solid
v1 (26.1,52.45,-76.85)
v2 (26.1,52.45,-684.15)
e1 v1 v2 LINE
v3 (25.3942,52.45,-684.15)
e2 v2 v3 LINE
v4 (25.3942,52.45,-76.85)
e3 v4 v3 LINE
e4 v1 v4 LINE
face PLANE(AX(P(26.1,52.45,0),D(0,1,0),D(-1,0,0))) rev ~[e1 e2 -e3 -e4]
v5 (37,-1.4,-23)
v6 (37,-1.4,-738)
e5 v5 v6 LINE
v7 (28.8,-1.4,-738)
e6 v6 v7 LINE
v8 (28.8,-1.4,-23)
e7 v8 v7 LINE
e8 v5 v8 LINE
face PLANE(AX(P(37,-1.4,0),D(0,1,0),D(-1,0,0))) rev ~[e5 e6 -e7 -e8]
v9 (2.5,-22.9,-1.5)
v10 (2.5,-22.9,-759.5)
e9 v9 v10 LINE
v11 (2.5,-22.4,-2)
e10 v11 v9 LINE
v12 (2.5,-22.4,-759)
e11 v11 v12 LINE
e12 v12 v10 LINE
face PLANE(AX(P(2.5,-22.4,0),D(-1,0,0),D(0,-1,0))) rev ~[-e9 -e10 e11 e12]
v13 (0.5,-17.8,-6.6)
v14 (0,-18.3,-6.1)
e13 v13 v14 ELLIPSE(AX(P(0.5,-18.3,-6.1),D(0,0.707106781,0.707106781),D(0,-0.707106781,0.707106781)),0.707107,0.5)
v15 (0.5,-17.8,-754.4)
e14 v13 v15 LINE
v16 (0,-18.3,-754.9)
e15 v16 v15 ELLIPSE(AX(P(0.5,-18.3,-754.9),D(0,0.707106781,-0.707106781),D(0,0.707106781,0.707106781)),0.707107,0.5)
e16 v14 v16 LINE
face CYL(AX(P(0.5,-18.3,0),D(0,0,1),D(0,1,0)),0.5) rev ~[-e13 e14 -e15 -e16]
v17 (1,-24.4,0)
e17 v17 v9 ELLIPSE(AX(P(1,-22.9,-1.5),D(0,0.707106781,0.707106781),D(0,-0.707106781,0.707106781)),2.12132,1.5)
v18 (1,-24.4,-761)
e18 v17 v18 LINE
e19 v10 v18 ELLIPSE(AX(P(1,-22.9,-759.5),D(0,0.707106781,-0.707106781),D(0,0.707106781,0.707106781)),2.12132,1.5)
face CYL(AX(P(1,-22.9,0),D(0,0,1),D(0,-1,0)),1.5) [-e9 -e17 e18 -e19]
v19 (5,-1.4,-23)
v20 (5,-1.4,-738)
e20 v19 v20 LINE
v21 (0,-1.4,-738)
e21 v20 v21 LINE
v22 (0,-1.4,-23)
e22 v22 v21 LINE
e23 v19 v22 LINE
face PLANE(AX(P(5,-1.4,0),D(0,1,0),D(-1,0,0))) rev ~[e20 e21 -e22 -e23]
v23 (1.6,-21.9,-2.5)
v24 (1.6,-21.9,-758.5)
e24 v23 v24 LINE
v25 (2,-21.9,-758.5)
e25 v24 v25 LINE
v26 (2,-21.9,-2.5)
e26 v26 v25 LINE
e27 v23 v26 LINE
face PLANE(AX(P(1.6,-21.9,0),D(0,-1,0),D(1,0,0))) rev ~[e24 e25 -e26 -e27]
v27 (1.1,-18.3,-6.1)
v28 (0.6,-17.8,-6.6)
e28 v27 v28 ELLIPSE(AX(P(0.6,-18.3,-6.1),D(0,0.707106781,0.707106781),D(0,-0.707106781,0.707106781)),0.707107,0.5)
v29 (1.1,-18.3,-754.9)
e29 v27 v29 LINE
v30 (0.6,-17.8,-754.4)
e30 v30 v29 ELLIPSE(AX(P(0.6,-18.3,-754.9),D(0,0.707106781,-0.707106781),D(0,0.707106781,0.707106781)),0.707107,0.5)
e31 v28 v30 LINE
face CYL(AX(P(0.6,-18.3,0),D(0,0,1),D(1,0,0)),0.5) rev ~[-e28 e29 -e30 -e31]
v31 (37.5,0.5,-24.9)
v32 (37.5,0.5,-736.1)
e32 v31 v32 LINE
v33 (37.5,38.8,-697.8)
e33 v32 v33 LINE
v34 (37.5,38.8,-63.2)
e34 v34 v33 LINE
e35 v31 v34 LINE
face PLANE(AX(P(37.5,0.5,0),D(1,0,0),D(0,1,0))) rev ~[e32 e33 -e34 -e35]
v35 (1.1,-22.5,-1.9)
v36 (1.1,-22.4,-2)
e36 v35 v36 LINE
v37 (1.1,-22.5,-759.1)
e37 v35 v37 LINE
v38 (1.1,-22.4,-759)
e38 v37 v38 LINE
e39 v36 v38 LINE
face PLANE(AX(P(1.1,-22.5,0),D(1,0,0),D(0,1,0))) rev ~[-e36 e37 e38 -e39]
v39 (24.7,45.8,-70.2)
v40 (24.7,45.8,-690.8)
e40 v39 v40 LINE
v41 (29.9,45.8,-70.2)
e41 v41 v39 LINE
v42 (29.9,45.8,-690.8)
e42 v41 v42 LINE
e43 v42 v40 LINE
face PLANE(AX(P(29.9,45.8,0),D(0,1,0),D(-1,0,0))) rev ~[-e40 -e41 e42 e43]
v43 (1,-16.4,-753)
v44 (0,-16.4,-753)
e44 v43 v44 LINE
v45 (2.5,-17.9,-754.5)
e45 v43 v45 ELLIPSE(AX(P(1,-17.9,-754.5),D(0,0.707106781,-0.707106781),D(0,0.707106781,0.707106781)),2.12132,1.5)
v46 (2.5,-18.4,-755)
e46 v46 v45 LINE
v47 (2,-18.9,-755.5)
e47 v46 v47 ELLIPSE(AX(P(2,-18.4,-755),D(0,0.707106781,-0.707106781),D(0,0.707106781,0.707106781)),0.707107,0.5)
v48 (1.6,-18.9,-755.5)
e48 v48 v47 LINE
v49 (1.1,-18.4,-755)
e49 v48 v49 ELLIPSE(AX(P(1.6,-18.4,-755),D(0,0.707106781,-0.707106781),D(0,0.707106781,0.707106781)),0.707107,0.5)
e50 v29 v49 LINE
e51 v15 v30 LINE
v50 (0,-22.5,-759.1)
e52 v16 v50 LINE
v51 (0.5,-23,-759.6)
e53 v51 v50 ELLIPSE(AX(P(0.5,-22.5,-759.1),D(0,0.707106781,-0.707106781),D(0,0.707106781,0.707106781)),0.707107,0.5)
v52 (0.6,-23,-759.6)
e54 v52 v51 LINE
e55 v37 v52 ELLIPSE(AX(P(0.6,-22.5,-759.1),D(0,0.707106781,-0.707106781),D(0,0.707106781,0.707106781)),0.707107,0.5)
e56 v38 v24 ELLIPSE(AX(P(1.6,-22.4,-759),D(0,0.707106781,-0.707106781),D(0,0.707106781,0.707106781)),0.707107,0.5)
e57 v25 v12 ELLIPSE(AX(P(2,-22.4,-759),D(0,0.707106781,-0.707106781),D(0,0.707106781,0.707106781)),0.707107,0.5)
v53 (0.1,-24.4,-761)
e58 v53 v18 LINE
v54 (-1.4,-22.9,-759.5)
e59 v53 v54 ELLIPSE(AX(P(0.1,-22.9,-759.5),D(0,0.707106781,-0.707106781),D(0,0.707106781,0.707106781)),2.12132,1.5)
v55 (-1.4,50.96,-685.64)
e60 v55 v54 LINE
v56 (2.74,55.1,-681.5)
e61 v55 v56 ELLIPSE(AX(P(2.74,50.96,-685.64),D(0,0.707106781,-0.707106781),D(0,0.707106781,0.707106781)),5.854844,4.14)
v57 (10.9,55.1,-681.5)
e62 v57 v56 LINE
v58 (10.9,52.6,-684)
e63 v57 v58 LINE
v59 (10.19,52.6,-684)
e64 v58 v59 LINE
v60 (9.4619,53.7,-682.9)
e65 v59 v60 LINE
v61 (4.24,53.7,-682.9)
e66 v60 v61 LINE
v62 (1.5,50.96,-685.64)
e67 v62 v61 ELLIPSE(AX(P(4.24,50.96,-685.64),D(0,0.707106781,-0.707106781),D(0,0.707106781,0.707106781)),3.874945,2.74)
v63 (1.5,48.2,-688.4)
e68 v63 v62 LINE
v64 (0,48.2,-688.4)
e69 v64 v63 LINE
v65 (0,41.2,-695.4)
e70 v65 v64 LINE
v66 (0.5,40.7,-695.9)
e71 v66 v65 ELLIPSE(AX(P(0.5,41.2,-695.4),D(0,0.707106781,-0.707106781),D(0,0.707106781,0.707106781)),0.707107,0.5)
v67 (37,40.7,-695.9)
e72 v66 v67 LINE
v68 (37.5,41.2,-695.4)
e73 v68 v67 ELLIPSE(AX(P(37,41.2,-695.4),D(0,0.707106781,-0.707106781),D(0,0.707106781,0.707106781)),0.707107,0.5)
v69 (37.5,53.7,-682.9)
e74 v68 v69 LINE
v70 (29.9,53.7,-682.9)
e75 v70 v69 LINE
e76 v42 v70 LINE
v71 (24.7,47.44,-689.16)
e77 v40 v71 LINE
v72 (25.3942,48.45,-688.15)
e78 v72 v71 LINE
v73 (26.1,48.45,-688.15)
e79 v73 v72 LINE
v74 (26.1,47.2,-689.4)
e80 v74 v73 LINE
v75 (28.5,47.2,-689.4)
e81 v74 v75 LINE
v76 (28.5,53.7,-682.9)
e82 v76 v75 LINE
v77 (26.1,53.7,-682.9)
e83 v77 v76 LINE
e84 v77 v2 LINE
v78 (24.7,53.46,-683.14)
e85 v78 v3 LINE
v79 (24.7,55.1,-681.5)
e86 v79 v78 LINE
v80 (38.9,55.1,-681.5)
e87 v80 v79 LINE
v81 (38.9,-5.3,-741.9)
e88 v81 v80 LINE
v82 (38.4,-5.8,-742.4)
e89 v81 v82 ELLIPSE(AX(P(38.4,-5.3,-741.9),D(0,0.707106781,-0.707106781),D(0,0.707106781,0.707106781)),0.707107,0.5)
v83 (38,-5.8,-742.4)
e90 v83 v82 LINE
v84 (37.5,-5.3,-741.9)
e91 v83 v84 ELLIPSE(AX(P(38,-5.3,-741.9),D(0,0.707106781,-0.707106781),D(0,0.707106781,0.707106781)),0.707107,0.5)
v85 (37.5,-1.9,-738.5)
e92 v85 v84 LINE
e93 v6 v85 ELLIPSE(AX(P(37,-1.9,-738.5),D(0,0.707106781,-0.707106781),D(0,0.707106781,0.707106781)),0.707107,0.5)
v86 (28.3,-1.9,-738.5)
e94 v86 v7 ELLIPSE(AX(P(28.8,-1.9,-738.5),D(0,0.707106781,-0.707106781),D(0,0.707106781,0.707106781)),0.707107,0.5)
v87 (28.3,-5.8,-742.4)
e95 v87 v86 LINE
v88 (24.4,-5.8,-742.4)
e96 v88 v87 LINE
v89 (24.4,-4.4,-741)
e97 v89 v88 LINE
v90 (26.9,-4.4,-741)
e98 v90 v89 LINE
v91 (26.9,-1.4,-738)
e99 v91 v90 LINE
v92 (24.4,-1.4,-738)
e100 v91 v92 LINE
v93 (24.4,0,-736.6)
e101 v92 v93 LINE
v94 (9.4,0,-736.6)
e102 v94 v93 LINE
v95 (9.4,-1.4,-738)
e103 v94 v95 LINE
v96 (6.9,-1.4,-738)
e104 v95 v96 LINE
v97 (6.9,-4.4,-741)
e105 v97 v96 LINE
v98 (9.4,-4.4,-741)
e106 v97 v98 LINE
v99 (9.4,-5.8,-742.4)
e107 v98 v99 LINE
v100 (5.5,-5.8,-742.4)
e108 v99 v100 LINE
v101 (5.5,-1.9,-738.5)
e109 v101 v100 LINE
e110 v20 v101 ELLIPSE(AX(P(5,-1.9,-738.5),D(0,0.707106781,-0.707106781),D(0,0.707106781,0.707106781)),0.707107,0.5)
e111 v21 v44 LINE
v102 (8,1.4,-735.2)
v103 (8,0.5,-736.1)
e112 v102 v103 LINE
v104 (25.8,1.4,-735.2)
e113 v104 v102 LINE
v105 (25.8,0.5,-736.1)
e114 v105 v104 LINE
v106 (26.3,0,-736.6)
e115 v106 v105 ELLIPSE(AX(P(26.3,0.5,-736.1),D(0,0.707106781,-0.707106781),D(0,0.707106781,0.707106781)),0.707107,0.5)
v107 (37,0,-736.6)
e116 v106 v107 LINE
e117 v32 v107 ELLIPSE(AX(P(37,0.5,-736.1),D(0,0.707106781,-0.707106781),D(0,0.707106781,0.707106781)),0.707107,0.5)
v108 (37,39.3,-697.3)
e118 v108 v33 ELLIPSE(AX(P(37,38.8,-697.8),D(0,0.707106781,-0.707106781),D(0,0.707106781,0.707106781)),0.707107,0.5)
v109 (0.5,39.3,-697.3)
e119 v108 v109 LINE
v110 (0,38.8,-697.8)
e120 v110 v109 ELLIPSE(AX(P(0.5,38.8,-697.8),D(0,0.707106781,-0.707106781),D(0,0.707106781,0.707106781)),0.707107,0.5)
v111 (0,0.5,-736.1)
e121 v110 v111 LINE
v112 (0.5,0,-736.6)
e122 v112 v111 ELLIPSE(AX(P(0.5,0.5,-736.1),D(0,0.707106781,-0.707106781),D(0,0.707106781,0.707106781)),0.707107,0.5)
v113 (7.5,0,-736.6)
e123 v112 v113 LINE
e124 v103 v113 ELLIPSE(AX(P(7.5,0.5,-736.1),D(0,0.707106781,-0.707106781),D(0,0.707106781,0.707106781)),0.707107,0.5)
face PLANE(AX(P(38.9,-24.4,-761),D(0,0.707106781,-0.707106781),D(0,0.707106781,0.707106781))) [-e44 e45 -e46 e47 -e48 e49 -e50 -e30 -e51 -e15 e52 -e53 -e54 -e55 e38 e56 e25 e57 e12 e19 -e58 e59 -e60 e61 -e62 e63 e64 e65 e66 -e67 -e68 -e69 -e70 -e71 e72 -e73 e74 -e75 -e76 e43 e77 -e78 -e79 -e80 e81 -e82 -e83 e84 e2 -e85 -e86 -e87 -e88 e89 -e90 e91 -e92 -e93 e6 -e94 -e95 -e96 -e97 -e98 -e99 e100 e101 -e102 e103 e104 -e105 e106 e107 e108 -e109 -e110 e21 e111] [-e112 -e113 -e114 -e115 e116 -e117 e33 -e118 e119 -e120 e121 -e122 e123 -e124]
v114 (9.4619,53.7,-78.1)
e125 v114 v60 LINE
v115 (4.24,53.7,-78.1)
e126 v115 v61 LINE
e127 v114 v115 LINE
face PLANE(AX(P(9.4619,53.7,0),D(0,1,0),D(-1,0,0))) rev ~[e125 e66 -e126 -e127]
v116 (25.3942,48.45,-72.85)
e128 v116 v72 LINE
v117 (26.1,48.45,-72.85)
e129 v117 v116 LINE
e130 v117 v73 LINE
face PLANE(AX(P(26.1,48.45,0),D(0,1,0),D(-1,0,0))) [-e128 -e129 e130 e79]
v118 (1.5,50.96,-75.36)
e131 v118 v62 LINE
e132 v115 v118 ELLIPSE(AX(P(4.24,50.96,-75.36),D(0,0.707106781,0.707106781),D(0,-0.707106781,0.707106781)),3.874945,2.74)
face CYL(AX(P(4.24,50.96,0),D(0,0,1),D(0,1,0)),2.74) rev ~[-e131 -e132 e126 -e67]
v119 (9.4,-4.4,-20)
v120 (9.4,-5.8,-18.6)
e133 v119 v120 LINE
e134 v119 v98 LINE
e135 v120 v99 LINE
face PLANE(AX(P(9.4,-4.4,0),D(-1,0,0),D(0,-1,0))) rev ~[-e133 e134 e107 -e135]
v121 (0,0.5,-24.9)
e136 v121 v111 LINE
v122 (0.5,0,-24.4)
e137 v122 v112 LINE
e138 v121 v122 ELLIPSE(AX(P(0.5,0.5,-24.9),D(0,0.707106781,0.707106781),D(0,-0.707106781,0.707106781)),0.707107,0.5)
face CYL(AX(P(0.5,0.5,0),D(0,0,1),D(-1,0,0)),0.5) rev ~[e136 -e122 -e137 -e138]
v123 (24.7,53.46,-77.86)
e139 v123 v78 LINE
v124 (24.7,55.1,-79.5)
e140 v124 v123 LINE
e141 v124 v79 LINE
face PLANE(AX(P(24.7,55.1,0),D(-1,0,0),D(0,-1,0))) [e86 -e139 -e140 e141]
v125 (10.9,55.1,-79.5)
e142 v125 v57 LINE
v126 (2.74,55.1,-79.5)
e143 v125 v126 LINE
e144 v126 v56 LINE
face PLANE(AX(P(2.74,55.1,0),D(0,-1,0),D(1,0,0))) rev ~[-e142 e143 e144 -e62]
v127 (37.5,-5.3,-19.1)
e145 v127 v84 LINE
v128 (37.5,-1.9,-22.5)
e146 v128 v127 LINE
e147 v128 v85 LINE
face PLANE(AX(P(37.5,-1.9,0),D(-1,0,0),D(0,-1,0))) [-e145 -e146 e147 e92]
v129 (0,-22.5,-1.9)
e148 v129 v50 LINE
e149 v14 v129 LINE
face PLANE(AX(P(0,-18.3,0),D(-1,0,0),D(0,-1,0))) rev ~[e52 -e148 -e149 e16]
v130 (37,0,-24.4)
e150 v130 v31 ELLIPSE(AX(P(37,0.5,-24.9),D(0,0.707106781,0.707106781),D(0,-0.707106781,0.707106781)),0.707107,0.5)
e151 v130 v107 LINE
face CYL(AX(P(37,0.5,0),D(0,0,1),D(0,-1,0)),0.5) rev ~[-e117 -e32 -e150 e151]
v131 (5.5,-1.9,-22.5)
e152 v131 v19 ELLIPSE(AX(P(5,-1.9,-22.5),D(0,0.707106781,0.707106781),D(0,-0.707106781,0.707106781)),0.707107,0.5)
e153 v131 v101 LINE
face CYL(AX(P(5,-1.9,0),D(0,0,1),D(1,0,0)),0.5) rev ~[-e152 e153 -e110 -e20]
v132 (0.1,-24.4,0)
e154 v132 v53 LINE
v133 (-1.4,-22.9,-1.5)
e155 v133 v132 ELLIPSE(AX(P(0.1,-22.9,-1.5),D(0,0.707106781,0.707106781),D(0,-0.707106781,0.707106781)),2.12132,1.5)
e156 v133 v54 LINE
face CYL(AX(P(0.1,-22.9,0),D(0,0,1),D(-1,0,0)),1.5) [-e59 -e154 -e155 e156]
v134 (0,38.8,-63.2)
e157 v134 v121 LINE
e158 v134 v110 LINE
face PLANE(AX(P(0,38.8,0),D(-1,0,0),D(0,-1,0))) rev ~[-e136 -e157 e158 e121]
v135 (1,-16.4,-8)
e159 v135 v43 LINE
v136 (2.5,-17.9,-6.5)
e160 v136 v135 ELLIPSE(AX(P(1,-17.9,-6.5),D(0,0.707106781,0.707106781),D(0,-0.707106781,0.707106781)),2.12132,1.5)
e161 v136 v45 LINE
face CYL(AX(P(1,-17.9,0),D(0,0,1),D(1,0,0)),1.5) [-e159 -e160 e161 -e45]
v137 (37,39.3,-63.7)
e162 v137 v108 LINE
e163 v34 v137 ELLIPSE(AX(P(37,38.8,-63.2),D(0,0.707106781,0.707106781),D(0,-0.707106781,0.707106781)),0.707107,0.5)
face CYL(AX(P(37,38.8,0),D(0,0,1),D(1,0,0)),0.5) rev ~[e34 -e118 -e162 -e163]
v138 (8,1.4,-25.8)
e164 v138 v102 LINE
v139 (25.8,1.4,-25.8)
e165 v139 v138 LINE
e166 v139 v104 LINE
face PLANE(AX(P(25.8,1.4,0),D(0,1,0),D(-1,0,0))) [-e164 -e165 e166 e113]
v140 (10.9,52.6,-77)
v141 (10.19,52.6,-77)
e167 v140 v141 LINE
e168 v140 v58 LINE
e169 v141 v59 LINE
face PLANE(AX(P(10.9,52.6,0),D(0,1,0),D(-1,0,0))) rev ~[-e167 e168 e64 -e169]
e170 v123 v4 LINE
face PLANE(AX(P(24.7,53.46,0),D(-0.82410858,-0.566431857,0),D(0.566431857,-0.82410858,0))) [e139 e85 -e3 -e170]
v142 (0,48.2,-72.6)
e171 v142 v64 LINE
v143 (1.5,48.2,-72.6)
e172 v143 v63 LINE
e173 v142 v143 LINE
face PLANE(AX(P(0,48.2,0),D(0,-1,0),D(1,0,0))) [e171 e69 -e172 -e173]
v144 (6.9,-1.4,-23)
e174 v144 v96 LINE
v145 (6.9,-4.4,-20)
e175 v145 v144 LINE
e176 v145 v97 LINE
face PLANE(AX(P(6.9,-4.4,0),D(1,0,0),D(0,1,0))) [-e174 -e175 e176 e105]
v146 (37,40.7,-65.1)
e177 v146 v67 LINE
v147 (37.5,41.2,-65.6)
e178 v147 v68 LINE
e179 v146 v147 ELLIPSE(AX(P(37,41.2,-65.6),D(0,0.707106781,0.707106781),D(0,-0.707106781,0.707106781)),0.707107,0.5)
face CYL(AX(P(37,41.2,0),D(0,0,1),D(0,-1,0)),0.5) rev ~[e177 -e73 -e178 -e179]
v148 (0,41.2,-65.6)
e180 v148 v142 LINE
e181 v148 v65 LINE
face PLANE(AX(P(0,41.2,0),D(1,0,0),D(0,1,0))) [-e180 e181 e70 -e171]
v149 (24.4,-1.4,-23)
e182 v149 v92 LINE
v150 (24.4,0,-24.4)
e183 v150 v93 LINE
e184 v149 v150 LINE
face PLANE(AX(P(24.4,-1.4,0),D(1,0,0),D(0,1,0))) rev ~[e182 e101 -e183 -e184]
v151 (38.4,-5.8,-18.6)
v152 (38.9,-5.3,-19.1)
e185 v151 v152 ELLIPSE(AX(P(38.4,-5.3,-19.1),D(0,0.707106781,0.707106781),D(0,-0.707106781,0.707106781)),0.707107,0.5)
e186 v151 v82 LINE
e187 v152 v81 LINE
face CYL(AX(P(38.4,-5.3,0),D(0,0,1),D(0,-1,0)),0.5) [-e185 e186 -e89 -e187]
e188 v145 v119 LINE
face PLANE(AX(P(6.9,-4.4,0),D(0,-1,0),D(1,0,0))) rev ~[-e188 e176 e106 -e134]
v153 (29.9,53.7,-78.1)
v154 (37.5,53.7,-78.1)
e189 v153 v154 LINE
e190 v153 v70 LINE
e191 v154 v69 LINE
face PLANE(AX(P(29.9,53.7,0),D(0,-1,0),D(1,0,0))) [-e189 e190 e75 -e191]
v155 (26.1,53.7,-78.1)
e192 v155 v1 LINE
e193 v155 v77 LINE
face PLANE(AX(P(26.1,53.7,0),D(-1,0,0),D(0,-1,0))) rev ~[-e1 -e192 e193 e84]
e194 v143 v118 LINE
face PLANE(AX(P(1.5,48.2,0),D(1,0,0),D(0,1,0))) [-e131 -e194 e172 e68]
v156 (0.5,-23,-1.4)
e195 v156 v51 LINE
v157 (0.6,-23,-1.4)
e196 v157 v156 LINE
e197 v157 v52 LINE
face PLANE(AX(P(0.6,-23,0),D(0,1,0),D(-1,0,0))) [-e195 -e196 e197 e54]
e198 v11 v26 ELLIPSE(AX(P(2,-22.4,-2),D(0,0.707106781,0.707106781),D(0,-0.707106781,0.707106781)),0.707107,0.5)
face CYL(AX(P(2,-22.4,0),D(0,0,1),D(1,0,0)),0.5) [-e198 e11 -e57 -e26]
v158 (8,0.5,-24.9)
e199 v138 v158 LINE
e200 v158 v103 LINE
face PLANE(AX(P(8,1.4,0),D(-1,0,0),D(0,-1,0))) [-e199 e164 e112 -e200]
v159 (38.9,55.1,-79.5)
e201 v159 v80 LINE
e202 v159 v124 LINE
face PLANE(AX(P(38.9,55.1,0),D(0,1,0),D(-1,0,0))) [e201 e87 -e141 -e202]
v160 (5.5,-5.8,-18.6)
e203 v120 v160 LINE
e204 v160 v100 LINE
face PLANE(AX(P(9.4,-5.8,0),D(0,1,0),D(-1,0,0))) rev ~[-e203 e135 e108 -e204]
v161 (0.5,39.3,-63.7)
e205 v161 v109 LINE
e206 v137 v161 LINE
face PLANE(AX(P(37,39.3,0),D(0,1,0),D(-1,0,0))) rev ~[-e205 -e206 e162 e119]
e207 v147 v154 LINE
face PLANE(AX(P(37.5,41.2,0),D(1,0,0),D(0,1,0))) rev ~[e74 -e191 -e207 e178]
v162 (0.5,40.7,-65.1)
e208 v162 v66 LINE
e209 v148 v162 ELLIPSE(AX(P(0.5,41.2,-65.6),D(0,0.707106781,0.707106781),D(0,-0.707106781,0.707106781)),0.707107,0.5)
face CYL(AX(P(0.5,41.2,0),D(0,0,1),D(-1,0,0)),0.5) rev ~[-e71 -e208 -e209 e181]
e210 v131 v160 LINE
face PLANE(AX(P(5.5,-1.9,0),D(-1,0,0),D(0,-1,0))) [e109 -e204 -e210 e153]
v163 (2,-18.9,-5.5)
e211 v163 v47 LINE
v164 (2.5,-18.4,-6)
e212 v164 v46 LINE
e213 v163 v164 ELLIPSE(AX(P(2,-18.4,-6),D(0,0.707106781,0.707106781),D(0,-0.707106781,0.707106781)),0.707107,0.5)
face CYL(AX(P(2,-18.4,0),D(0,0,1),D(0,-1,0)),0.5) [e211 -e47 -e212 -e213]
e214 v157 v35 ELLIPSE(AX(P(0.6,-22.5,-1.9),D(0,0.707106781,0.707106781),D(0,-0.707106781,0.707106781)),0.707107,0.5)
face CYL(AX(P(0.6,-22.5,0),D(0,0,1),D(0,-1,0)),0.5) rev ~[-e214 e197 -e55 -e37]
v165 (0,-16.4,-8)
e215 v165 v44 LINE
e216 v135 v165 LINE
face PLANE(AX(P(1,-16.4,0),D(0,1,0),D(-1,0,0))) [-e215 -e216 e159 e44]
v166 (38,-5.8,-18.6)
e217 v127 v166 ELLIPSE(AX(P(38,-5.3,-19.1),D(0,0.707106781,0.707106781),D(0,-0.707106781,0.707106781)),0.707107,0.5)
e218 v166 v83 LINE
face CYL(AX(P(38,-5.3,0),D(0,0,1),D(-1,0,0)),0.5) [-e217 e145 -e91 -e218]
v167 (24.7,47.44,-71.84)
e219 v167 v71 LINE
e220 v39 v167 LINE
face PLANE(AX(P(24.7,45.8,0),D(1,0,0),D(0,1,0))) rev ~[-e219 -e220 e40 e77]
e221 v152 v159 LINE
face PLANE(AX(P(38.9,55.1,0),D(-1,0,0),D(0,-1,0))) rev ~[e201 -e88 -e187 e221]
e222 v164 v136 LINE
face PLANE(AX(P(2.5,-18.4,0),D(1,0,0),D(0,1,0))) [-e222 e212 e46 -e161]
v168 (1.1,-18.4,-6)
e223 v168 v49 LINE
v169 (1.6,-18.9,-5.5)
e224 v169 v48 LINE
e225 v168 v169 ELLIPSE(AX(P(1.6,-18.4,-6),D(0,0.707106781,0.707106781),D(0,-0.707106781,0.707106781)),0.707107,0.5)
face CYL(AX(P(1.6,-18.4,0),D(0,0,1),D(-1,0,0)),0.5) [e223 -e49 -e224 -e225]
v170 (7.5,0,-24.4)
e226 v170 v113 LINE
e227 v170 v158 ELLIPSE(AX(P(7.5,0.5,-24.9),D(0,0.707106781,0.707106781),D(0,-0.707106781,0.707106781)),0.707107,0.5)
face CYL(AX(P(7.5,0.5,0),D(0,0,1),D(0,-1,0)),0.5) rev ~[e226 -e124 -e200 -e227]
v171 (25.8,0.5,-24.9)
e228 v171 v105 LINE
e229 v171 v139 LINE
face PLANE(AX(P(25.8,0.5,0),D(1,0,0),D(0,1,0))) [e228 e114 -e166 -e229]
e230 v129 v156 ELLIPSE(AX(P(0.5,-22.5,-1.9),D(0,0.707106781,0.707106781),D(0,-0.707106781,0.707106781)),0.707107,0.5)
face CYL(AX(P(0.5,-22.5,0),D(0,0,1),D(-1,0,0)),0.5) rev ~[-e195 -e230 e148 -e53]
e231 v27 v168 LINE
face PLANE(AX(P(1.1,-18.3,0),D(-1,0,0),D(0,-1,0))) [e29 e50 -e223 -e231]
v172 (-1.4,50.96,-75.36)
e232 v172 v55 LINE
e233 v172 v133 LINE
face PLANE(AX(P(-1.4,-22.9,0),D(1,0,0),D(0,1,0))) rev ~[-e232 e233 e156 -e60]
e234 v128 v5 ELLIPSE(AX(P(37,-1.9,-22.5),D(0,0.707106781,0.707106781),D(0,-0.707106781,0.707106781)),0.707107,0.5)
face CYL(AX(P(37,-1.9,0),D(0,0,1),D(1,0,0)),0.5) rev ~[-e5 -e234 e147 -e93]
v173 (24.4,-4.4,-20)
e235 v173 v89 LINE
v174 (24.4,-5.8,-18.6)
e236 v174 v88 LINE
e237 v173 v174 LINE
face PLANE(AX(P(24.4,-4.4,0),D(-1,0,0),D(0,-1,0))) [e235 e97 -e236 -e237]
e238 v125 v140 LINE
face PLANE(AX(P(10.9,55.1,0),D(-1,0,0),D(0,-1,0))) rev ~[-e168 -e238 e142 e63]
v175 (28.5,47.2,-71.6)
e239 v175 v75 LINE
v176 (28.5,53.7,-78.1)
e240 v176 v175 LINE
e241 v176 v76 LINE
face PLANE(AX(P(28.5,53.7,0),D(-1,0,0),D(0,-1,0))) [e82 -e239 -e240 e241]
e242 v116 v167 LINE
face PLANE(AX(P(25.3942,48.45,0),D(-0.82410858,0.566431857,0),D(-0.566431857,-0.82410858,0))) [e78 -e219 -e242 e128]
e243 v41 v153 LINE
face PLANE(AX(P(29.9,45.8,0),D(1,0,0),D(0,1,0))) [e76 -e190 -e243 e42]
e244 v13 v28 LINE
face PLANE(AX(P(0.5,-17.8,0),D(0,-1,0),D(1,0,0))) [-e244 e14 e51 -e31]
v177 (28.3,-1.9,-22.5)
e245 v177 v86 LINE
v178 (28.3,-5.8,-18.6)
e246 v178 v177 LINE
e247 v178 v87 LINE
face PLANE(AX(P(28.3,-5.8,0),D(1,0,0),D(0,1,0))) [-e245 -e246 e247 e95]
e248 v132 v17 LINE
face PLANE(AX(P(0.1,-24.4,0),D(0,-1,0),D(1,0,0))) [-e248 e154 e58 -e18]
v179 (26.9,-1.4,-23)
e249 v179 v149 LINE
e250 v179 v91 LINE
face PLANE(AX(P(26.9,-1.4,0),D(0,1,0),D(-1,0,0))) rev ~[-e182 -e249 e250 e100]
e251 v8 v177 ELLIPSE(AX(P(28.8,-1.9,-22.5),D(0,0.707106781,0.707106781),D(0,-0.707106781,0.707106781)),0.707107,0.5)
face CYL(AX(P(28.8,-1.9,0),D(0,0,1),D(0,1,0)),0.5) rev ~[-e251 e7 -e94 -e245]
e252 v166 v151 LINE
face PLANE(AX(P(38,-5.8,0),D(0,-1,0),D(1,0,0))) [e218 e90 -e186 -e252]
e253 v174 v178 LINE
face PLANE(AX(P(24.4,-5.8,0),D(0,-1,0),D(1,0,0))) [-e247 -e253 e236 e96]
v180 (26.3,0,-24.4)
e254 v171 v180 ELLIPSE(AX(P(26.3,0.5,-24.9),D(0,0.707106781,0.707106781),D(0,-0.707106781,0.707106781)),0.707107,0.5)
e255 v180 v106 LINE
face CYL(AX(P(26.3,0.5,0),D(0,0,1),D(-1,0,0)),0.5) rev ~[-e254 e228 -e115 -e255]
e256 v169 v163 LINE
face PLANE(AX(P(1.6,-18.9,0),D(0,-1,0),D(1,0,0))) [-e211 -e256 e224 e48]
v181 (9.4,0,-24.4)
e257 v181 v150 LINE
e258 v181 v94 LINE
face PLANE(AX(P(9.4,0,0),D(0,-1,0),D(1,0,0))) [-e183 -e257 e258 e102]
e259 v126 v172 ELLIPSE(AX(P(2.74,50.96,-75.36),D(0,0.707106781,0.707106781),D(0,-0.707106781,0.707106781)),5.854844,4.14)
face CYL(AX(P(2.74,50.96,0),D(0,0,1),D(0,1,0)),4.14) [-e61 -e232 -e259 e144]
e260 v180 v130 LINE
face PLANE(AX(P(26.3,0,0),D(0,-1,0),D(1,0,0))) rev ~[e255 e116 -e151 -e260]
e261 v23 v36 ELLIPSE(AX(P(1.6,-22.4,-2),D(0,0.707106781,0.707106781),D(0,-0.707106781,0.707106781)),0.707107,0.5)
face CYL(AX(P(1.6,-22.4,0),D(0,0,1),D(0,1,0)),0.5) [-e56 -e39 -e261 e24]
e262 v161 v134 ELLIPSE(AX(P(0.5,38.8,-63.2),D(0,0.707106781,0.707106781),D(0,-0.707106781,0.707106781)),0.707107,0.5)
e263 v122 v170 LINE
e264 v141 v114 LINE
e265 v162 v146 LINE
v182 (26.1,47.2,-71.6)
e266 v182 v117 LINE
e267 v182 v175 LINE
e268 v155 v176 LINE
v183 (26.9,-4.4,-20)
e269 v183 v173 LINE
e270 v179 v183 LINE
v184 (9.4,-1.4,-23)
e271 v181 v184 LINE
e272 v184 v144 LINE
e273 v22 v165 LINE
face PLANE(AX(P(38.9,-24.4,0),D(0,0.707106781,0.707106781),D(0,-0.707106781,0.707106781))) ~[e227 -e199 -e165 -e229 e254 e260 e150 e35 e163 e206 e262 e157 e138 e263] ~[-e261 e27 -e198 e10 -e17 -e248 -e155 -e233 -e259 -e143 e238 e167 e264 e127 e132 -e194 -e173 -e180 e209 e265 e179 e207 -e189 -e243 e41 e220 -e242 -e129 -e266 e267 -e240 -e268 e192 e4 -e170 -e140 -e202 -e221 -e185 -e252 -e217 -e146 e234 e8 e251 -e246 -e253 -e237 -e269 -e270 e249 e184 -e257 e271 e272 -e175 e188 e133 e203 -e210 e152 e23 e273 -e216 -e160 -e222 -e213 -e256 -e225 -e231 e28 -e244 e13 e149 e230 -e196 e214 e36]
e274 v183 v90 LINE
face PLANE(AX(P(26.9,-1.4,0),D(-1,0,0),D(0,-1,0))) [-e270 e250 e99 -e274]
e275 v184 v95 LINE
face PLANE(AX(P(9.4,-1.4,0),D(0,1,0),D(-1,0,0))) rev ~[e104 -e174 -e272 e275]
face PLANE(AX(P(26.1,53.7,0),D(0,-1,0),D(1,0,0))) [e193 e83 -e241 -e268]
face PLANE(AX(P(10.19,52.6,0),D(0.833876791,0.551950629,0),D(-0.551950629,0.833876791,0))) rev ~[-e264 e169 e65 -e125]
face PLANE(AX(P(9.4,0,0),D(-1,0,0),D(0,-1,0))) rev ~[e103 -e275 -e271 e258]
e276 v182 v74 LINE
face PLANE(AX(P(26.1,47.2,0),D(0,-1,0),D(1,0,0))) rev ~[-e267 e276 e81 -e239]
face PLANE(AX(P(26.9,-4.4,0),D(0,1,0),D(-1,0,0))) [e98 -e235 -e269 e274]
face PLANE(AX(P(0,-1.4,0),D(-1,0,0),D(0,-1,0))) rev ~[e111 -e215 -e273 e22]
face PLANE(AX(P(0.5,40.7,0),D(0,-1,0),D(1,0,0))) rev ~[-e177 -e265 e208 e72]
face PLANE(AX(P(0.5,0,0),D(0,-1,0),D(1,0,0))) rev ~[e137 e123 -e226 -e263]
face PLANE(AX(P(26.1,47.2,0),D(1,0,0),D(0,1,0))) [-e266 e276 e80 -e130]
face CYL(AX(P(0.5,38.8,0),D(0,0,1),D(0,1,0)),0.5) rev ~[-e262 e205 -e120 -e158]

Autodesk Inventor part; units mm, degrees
ref_plane "YZ Plane" through (0, 0, 0) normal (1, 0, 0) x (0, 1, 0)
ref_plane "XZ Plane" through (0, 0, 0) normal (0, 1, 0) x (-1, 0, 0)
sketch "Boceto1" plane through (0, 0, 0) normal (0, 0, 1) x (1, 0, 0)
  line L0 (37.5, 0.5) -> (37.5, 38.8)
  line L1 (37, 39.3) -> (0.5, 39.3)
  line L2 (0, 38.8) -> (0, 0.5)
  line L3 (0.5, 40.7) -> (37, 40.7)
  line L4 (38.9, 55.1) -> (38.9, -5.3)
  line L5 (-1.4, -22.9) -> (-1.4, 50.96)
  line L6 (37.5, 41.2) -> (37.5, 53.7)
  line L7 (38.9, 55.1) -> (24.7, 55.1)
  line L8 (24.7, 55.1) -> (24.7, 53.46)
  line L9 (28.5, 53.7) -> (28.5, 47.2)
  line L10 (29.9, 45.8) -> (29.9, 53.7)
  line L11 (29.9, 45.8) -> (24.7, 45.8)
  line L12 (24.7, 45.8) -> (24.7, 47.44)
  line L13 (26.1, 47.2) -> (28.5, 47.2)
  line L14 (26.1, 48.45) -> (25.3942, 48.45)
  line L15 (25.3942, 48.45) -> (24.7, 47.44)
  line L16 (26.1, 52.45) -> (25.3942, 52.45)
  line L17 (0, 41.2) -> (0, 48.2)
  line L18 (0, 48.2) -> (1.5, 48.2)
  line L19 (1.5, 48.2) -> (1.5, 50.96)
  line L20 (2.74, 55.1) -> (10.9, 55.1)
  line L21 (9.4619, 53.7) -> (4.24, 53.7)
  line L22 (10.9, 55.1) -> (10.9, 52.6)
  line L23 (10.9, 52.6) -> (10.19, 52.6)
  line L24 (10.19, 52.6) -> (9.4619, 53.7)
  line L25 (0, -24.4) -> (0.1, -24.4)
  line L26 (37.5, -1.9) -> (37.5, -5.3)
  line L27 (38, -5.8) -> (38.4, -5.8)
  line L28 (26.9, -1.4) -> (26.9, -4.4)
  line L29 (28.3, -5.8) -> (28.3, -1.9)
  line L30 (5.5, -1.9) -> (5.5, -5.8)
  line L31 (6.9, -4.4) -> (6.9, -1.4)
  line L32 (6.9, -4.4) -> (9.4, -4.4)
  line L33 (9.4, -4.4) -> (9.4, -5.8)
  line L34 (9.4, -5.8) -> (5.5, -5.8)
  line L35 (26.9, -4.4) -> (24.4, -4.4)
  line L36 (24.4, -4.4) -> (24.4, -5.8)
  line L37 (24.4, -5.8) -> (28.3, -5.8)
  line L38 (25.8, 0.5) -> (25.8, 1.4)
  line L39 (25.8, 1.4) -> (8, 1.4)
  line L40 (0.5, 0) -> (7.5, 0)
  line L41 (26.3, 0) -> (37, 0)
  line L42 (24.4, -1.4) -> (24.4, 0)
  line L43 (9.4, 0) -> (9.4, -1.4)
  line L44 (26.1, 53.7) -> (28.5, 53.7)
  line L45 (29.9, 53.7) -> (37.5, 53.7)
  line L46 (37, -1.4) -> (28.8, -1.4)
  line L47 (9.4, -1.4) -> (6.9, -1.4)
  line L48 (5, -1.4) -> (0, -1.4)
  arc A0 (4.24, 53.7) -> (1.5, 50.96) centre (4.24, 50.96) ccw
  arc A1 (2.74, 55.1) -> (-1.4, 50.96) centre (2.74, 50.96) ccw
  line L49 (26.9, -1.4) -> (24.4, -1.4)
  line L50 (26.9, -1.4) -> (24.4, -1.4)
  line L51 (8, 1.4) -> (8, 0.5)
  line L52 (9.4, 0) -> (24.4, 0)
  line L53 (24.7, 53.46) -> (25.3942, 52.45)
  line L54 (26.1, 53.7) -> (26.1, 52.45)
  line L55 (26.1, 47.2) -> (26.1, 48.45)
  line L56 (0, -24.4) -> (1, -24.4)
  line L57 (0.6, -23) -> (0.5, -23)
  line L58 (0.5, -17.8) -> (0.6, -17.8)
  line L59 (1, -16.4) -> (0, -16.4)
  line L60 (1.1, -18.3) -> (1.1, -18.4)
  line L61 (1.6, -18.9) -> (2, -18.9)
  line L62 (2.5, -18.4) -> (2.5, -17.9)
  line L63 (1.1, -22.5) -> (1.1, -22.4)
  line L64 (1.6, -21.9) -> (2, -21.9)
  line L65 (2.5, -22.4) -> (2.5, -22.9)
  line L66 (0, -1.4) -> (0, -16.4)
  line L67 (0, -18.3) -> (0, -22.5)
  arc A2 (2.5, -17.9) -> (1, -16.4) centre (1, -17.9) ccw
  arc A3 (1, -24.4) -> (2.5, -22.9) centre (1, -22.9) ccw
  arc A4 (-1.4, -22.9) -> (0.1, -24.4) centre (0.1, -22.9) ccw
  arc A5 (1.1, -18.4) -> (1.6, -18.9) centre (1.6, -18.4) ccw
  arc A6 (1.1, -18.3) -> (0.6, -17.8) centre (0.6, -18.3) ccw
  arc A7 (2, -18.9) -> (2.5, -18.4) centre (2, -18.4) ccw
  arc A8 (2.5, -22.4) -> (2, -21.9) centre (2, -22.4) ccw
  arc A9 (1.6, -21.9) -> (1.1, -22.4) centre (1.6, -22.4) ccw
  arc A10 (0.6, -23) -> (1.1, -22.5) centre (0.6, -22.5) ccw
  arc A11 (5.5, -1.9) -> (5, -1.4) centre (5, -1.9) ccw
  arc A12 (7.5, 0) -> (8, 0.5) centre (7.5, 0.5) ccw
  arc A13 (0, 0.5) -> (0.5, 0) centre (0.5, 0.5) ccw
  arc A14 (28.8, -1.4) -> (28.3, -1.9) centre (28.8, -1.9) ccw
  arc A15 (25.8, 0.5) -> (26.3, 0) centre (26.3, 0.5) ccw
  arc A16 (37, 0) -> (37.5, 0.5) centre (37, 0.5) ccw
  arc A17 (37.5, -1.9) -> (37, -1.4) centre (37, -1.9) ccw
  arc A18 (37.5, -5.3) -> (38, -5.8) centre (38, -5.3) ccw
  arc A19 (38.4, -5.8) -> (38.9, -5.3) centre (38.4, -5.3) ccw
  arc A20 (0.5, 39.3) -> (0, 38.8) centre (0.5, 38.8) ccw
  arc A21 (37.5, 38.8) -> (37, 39.3) centre (37, 38.8) ccw
  arc A22 (37, 40.7) -> (37.5, 41.2) centre (37, 41.2) ccw
  arc A23 (0, 41.2) -> (0.5, 40.7) centre (0.5, 41.2) ccw
  arc A24 (0, -22.5) -> (0.5, -23) centre (0.5, -22.5) ccw
  arc A25 (0.5, -17.8) -> (0, -18.3) centre (0.5, -18.3) ccw
  point P0 (0, 0)
  point P1 (9.4, -5.1)
  point P2 (27.3, 45.8)
  point P3 (28.5, 50.45)
  point P4 (0, -23)
  point P5 (0, -17.8)
  point P6 (1.1, -21.9)
  point P7 (0, -20.4)
  dimension "d10" = 60.9
  dimension "d11" = 23
  dimension "d13" = 39.3
  dimension "d14" = 1.4
  dimension "d15" = 1.4
  dimension "d17" = 1.4
  dimension "d18" = 1.4
  dimension "d20" = 1.4
  dimension "d22" = 1.4
  dimension "d23" = 1.4
  dimension "d26" = 1.4
  dimension "d27" = 1.4
  dimension "d28" = 1.4
  dimension "d31" = 1.4
  dimension "d34" = 40.3
  dimension "d35" = 37.9
  dimension "d36" = 39.3
  dimension "d37" = 37.5
  dimension "d38" = 37.5
  dimension "d40" = 14.2
  dimension "d41" = 13.8
  dimension "d42" = 2.5
  dimension "d43" = 0.71
  dimension "d45" = 2.9
  dimension "d46" = 14.4
  dimension "d47" = 33.5
  dimension "d48" = 7.5
  dimension "d51" = 2.74
  dimension "d58" = 4.14
  dimension "d59" = 6.9
  dimension "d60" = 1.4
  dimension "d61" = 20
  dimension "d62" = 6.9
  dimension "d64" = 1.4
  dimension "d65" = 3
  dimension "d66" = 3
  dimension "d68" = 2.5
  dimension "d69" = 2.5
  dimension "d70" = 15
  dimension "d71" = 2.5
  dimension "d73" = 1.4
  dimension "d74" = 1.4
  dimension "d75" = 1.4
  dimension "d76" = 1.4
  dimension "d77" = 9.3
  dimension "d82" = 1.4
  dimension "d83" = 1.4
  dimension "d84" = 1.4
  dimension "d85" = 1.4
  dimension "d86" = 1.4
  dimension "d88" = 2.4
  dimension "d95" = 6.02
  dimension "d99" = 111
  dimension "d100" = 2.4
  dimension "d109" = 0.7058
  dimension "d110" = 0.7058
  dimension "d112" = 5.2
  dimension "d115" = 2.6
  dimension "d116" = 2.6
  dimension "d117" = 1.5
  dimension "d118" = 1.5
  dimension "d119" = 3
  dimension "d120" = 1.4
  dimension "d121" = 1.4
extrude "Extrusión1" add sketch "Boceto1" against normal blind 761
ref_plane "Plano de trabajo1" through (0, 0, -380.5) normal (0, 0, 1) x (1, 0, 0)
sketch "Boceto2" plane through (38.9, -22.9, 0) normal (-1, 0, 0) x (0, 0, 1)
  line L0 (-761, -1.5) -> (-761, 78)
  line L1 (0, 1) -> (-761, 1) projected
  line L2 (0, -1.5) -> (-761, -1.5) projected
  line L3 (0, 78) -> (-761, 78) projected
  line L4 (-761, 78) -> (-681.5, 78)
  line L5 (-761, -1.5) -> (-681.5, 78)
  point P0 (-300.5, -1.5)
  dimension "d146" = 45
extrude "Extrusión2" cut sketch "Boceto2" along normal up to surface (40.3 mm away)
mirror "Simetría2" about plane through (0, 0, -380.5) normal (0, 0, 1) of "Extrusión2"
ref_plane "Plano de trabajo2" through (18.75, -5.3, 0) normal (1, 0, 0) x (0, 0, -1)
properties part number "SP40-02 HOJA PUERTA BATIENTE INT - EXT" material "Aluminio"
